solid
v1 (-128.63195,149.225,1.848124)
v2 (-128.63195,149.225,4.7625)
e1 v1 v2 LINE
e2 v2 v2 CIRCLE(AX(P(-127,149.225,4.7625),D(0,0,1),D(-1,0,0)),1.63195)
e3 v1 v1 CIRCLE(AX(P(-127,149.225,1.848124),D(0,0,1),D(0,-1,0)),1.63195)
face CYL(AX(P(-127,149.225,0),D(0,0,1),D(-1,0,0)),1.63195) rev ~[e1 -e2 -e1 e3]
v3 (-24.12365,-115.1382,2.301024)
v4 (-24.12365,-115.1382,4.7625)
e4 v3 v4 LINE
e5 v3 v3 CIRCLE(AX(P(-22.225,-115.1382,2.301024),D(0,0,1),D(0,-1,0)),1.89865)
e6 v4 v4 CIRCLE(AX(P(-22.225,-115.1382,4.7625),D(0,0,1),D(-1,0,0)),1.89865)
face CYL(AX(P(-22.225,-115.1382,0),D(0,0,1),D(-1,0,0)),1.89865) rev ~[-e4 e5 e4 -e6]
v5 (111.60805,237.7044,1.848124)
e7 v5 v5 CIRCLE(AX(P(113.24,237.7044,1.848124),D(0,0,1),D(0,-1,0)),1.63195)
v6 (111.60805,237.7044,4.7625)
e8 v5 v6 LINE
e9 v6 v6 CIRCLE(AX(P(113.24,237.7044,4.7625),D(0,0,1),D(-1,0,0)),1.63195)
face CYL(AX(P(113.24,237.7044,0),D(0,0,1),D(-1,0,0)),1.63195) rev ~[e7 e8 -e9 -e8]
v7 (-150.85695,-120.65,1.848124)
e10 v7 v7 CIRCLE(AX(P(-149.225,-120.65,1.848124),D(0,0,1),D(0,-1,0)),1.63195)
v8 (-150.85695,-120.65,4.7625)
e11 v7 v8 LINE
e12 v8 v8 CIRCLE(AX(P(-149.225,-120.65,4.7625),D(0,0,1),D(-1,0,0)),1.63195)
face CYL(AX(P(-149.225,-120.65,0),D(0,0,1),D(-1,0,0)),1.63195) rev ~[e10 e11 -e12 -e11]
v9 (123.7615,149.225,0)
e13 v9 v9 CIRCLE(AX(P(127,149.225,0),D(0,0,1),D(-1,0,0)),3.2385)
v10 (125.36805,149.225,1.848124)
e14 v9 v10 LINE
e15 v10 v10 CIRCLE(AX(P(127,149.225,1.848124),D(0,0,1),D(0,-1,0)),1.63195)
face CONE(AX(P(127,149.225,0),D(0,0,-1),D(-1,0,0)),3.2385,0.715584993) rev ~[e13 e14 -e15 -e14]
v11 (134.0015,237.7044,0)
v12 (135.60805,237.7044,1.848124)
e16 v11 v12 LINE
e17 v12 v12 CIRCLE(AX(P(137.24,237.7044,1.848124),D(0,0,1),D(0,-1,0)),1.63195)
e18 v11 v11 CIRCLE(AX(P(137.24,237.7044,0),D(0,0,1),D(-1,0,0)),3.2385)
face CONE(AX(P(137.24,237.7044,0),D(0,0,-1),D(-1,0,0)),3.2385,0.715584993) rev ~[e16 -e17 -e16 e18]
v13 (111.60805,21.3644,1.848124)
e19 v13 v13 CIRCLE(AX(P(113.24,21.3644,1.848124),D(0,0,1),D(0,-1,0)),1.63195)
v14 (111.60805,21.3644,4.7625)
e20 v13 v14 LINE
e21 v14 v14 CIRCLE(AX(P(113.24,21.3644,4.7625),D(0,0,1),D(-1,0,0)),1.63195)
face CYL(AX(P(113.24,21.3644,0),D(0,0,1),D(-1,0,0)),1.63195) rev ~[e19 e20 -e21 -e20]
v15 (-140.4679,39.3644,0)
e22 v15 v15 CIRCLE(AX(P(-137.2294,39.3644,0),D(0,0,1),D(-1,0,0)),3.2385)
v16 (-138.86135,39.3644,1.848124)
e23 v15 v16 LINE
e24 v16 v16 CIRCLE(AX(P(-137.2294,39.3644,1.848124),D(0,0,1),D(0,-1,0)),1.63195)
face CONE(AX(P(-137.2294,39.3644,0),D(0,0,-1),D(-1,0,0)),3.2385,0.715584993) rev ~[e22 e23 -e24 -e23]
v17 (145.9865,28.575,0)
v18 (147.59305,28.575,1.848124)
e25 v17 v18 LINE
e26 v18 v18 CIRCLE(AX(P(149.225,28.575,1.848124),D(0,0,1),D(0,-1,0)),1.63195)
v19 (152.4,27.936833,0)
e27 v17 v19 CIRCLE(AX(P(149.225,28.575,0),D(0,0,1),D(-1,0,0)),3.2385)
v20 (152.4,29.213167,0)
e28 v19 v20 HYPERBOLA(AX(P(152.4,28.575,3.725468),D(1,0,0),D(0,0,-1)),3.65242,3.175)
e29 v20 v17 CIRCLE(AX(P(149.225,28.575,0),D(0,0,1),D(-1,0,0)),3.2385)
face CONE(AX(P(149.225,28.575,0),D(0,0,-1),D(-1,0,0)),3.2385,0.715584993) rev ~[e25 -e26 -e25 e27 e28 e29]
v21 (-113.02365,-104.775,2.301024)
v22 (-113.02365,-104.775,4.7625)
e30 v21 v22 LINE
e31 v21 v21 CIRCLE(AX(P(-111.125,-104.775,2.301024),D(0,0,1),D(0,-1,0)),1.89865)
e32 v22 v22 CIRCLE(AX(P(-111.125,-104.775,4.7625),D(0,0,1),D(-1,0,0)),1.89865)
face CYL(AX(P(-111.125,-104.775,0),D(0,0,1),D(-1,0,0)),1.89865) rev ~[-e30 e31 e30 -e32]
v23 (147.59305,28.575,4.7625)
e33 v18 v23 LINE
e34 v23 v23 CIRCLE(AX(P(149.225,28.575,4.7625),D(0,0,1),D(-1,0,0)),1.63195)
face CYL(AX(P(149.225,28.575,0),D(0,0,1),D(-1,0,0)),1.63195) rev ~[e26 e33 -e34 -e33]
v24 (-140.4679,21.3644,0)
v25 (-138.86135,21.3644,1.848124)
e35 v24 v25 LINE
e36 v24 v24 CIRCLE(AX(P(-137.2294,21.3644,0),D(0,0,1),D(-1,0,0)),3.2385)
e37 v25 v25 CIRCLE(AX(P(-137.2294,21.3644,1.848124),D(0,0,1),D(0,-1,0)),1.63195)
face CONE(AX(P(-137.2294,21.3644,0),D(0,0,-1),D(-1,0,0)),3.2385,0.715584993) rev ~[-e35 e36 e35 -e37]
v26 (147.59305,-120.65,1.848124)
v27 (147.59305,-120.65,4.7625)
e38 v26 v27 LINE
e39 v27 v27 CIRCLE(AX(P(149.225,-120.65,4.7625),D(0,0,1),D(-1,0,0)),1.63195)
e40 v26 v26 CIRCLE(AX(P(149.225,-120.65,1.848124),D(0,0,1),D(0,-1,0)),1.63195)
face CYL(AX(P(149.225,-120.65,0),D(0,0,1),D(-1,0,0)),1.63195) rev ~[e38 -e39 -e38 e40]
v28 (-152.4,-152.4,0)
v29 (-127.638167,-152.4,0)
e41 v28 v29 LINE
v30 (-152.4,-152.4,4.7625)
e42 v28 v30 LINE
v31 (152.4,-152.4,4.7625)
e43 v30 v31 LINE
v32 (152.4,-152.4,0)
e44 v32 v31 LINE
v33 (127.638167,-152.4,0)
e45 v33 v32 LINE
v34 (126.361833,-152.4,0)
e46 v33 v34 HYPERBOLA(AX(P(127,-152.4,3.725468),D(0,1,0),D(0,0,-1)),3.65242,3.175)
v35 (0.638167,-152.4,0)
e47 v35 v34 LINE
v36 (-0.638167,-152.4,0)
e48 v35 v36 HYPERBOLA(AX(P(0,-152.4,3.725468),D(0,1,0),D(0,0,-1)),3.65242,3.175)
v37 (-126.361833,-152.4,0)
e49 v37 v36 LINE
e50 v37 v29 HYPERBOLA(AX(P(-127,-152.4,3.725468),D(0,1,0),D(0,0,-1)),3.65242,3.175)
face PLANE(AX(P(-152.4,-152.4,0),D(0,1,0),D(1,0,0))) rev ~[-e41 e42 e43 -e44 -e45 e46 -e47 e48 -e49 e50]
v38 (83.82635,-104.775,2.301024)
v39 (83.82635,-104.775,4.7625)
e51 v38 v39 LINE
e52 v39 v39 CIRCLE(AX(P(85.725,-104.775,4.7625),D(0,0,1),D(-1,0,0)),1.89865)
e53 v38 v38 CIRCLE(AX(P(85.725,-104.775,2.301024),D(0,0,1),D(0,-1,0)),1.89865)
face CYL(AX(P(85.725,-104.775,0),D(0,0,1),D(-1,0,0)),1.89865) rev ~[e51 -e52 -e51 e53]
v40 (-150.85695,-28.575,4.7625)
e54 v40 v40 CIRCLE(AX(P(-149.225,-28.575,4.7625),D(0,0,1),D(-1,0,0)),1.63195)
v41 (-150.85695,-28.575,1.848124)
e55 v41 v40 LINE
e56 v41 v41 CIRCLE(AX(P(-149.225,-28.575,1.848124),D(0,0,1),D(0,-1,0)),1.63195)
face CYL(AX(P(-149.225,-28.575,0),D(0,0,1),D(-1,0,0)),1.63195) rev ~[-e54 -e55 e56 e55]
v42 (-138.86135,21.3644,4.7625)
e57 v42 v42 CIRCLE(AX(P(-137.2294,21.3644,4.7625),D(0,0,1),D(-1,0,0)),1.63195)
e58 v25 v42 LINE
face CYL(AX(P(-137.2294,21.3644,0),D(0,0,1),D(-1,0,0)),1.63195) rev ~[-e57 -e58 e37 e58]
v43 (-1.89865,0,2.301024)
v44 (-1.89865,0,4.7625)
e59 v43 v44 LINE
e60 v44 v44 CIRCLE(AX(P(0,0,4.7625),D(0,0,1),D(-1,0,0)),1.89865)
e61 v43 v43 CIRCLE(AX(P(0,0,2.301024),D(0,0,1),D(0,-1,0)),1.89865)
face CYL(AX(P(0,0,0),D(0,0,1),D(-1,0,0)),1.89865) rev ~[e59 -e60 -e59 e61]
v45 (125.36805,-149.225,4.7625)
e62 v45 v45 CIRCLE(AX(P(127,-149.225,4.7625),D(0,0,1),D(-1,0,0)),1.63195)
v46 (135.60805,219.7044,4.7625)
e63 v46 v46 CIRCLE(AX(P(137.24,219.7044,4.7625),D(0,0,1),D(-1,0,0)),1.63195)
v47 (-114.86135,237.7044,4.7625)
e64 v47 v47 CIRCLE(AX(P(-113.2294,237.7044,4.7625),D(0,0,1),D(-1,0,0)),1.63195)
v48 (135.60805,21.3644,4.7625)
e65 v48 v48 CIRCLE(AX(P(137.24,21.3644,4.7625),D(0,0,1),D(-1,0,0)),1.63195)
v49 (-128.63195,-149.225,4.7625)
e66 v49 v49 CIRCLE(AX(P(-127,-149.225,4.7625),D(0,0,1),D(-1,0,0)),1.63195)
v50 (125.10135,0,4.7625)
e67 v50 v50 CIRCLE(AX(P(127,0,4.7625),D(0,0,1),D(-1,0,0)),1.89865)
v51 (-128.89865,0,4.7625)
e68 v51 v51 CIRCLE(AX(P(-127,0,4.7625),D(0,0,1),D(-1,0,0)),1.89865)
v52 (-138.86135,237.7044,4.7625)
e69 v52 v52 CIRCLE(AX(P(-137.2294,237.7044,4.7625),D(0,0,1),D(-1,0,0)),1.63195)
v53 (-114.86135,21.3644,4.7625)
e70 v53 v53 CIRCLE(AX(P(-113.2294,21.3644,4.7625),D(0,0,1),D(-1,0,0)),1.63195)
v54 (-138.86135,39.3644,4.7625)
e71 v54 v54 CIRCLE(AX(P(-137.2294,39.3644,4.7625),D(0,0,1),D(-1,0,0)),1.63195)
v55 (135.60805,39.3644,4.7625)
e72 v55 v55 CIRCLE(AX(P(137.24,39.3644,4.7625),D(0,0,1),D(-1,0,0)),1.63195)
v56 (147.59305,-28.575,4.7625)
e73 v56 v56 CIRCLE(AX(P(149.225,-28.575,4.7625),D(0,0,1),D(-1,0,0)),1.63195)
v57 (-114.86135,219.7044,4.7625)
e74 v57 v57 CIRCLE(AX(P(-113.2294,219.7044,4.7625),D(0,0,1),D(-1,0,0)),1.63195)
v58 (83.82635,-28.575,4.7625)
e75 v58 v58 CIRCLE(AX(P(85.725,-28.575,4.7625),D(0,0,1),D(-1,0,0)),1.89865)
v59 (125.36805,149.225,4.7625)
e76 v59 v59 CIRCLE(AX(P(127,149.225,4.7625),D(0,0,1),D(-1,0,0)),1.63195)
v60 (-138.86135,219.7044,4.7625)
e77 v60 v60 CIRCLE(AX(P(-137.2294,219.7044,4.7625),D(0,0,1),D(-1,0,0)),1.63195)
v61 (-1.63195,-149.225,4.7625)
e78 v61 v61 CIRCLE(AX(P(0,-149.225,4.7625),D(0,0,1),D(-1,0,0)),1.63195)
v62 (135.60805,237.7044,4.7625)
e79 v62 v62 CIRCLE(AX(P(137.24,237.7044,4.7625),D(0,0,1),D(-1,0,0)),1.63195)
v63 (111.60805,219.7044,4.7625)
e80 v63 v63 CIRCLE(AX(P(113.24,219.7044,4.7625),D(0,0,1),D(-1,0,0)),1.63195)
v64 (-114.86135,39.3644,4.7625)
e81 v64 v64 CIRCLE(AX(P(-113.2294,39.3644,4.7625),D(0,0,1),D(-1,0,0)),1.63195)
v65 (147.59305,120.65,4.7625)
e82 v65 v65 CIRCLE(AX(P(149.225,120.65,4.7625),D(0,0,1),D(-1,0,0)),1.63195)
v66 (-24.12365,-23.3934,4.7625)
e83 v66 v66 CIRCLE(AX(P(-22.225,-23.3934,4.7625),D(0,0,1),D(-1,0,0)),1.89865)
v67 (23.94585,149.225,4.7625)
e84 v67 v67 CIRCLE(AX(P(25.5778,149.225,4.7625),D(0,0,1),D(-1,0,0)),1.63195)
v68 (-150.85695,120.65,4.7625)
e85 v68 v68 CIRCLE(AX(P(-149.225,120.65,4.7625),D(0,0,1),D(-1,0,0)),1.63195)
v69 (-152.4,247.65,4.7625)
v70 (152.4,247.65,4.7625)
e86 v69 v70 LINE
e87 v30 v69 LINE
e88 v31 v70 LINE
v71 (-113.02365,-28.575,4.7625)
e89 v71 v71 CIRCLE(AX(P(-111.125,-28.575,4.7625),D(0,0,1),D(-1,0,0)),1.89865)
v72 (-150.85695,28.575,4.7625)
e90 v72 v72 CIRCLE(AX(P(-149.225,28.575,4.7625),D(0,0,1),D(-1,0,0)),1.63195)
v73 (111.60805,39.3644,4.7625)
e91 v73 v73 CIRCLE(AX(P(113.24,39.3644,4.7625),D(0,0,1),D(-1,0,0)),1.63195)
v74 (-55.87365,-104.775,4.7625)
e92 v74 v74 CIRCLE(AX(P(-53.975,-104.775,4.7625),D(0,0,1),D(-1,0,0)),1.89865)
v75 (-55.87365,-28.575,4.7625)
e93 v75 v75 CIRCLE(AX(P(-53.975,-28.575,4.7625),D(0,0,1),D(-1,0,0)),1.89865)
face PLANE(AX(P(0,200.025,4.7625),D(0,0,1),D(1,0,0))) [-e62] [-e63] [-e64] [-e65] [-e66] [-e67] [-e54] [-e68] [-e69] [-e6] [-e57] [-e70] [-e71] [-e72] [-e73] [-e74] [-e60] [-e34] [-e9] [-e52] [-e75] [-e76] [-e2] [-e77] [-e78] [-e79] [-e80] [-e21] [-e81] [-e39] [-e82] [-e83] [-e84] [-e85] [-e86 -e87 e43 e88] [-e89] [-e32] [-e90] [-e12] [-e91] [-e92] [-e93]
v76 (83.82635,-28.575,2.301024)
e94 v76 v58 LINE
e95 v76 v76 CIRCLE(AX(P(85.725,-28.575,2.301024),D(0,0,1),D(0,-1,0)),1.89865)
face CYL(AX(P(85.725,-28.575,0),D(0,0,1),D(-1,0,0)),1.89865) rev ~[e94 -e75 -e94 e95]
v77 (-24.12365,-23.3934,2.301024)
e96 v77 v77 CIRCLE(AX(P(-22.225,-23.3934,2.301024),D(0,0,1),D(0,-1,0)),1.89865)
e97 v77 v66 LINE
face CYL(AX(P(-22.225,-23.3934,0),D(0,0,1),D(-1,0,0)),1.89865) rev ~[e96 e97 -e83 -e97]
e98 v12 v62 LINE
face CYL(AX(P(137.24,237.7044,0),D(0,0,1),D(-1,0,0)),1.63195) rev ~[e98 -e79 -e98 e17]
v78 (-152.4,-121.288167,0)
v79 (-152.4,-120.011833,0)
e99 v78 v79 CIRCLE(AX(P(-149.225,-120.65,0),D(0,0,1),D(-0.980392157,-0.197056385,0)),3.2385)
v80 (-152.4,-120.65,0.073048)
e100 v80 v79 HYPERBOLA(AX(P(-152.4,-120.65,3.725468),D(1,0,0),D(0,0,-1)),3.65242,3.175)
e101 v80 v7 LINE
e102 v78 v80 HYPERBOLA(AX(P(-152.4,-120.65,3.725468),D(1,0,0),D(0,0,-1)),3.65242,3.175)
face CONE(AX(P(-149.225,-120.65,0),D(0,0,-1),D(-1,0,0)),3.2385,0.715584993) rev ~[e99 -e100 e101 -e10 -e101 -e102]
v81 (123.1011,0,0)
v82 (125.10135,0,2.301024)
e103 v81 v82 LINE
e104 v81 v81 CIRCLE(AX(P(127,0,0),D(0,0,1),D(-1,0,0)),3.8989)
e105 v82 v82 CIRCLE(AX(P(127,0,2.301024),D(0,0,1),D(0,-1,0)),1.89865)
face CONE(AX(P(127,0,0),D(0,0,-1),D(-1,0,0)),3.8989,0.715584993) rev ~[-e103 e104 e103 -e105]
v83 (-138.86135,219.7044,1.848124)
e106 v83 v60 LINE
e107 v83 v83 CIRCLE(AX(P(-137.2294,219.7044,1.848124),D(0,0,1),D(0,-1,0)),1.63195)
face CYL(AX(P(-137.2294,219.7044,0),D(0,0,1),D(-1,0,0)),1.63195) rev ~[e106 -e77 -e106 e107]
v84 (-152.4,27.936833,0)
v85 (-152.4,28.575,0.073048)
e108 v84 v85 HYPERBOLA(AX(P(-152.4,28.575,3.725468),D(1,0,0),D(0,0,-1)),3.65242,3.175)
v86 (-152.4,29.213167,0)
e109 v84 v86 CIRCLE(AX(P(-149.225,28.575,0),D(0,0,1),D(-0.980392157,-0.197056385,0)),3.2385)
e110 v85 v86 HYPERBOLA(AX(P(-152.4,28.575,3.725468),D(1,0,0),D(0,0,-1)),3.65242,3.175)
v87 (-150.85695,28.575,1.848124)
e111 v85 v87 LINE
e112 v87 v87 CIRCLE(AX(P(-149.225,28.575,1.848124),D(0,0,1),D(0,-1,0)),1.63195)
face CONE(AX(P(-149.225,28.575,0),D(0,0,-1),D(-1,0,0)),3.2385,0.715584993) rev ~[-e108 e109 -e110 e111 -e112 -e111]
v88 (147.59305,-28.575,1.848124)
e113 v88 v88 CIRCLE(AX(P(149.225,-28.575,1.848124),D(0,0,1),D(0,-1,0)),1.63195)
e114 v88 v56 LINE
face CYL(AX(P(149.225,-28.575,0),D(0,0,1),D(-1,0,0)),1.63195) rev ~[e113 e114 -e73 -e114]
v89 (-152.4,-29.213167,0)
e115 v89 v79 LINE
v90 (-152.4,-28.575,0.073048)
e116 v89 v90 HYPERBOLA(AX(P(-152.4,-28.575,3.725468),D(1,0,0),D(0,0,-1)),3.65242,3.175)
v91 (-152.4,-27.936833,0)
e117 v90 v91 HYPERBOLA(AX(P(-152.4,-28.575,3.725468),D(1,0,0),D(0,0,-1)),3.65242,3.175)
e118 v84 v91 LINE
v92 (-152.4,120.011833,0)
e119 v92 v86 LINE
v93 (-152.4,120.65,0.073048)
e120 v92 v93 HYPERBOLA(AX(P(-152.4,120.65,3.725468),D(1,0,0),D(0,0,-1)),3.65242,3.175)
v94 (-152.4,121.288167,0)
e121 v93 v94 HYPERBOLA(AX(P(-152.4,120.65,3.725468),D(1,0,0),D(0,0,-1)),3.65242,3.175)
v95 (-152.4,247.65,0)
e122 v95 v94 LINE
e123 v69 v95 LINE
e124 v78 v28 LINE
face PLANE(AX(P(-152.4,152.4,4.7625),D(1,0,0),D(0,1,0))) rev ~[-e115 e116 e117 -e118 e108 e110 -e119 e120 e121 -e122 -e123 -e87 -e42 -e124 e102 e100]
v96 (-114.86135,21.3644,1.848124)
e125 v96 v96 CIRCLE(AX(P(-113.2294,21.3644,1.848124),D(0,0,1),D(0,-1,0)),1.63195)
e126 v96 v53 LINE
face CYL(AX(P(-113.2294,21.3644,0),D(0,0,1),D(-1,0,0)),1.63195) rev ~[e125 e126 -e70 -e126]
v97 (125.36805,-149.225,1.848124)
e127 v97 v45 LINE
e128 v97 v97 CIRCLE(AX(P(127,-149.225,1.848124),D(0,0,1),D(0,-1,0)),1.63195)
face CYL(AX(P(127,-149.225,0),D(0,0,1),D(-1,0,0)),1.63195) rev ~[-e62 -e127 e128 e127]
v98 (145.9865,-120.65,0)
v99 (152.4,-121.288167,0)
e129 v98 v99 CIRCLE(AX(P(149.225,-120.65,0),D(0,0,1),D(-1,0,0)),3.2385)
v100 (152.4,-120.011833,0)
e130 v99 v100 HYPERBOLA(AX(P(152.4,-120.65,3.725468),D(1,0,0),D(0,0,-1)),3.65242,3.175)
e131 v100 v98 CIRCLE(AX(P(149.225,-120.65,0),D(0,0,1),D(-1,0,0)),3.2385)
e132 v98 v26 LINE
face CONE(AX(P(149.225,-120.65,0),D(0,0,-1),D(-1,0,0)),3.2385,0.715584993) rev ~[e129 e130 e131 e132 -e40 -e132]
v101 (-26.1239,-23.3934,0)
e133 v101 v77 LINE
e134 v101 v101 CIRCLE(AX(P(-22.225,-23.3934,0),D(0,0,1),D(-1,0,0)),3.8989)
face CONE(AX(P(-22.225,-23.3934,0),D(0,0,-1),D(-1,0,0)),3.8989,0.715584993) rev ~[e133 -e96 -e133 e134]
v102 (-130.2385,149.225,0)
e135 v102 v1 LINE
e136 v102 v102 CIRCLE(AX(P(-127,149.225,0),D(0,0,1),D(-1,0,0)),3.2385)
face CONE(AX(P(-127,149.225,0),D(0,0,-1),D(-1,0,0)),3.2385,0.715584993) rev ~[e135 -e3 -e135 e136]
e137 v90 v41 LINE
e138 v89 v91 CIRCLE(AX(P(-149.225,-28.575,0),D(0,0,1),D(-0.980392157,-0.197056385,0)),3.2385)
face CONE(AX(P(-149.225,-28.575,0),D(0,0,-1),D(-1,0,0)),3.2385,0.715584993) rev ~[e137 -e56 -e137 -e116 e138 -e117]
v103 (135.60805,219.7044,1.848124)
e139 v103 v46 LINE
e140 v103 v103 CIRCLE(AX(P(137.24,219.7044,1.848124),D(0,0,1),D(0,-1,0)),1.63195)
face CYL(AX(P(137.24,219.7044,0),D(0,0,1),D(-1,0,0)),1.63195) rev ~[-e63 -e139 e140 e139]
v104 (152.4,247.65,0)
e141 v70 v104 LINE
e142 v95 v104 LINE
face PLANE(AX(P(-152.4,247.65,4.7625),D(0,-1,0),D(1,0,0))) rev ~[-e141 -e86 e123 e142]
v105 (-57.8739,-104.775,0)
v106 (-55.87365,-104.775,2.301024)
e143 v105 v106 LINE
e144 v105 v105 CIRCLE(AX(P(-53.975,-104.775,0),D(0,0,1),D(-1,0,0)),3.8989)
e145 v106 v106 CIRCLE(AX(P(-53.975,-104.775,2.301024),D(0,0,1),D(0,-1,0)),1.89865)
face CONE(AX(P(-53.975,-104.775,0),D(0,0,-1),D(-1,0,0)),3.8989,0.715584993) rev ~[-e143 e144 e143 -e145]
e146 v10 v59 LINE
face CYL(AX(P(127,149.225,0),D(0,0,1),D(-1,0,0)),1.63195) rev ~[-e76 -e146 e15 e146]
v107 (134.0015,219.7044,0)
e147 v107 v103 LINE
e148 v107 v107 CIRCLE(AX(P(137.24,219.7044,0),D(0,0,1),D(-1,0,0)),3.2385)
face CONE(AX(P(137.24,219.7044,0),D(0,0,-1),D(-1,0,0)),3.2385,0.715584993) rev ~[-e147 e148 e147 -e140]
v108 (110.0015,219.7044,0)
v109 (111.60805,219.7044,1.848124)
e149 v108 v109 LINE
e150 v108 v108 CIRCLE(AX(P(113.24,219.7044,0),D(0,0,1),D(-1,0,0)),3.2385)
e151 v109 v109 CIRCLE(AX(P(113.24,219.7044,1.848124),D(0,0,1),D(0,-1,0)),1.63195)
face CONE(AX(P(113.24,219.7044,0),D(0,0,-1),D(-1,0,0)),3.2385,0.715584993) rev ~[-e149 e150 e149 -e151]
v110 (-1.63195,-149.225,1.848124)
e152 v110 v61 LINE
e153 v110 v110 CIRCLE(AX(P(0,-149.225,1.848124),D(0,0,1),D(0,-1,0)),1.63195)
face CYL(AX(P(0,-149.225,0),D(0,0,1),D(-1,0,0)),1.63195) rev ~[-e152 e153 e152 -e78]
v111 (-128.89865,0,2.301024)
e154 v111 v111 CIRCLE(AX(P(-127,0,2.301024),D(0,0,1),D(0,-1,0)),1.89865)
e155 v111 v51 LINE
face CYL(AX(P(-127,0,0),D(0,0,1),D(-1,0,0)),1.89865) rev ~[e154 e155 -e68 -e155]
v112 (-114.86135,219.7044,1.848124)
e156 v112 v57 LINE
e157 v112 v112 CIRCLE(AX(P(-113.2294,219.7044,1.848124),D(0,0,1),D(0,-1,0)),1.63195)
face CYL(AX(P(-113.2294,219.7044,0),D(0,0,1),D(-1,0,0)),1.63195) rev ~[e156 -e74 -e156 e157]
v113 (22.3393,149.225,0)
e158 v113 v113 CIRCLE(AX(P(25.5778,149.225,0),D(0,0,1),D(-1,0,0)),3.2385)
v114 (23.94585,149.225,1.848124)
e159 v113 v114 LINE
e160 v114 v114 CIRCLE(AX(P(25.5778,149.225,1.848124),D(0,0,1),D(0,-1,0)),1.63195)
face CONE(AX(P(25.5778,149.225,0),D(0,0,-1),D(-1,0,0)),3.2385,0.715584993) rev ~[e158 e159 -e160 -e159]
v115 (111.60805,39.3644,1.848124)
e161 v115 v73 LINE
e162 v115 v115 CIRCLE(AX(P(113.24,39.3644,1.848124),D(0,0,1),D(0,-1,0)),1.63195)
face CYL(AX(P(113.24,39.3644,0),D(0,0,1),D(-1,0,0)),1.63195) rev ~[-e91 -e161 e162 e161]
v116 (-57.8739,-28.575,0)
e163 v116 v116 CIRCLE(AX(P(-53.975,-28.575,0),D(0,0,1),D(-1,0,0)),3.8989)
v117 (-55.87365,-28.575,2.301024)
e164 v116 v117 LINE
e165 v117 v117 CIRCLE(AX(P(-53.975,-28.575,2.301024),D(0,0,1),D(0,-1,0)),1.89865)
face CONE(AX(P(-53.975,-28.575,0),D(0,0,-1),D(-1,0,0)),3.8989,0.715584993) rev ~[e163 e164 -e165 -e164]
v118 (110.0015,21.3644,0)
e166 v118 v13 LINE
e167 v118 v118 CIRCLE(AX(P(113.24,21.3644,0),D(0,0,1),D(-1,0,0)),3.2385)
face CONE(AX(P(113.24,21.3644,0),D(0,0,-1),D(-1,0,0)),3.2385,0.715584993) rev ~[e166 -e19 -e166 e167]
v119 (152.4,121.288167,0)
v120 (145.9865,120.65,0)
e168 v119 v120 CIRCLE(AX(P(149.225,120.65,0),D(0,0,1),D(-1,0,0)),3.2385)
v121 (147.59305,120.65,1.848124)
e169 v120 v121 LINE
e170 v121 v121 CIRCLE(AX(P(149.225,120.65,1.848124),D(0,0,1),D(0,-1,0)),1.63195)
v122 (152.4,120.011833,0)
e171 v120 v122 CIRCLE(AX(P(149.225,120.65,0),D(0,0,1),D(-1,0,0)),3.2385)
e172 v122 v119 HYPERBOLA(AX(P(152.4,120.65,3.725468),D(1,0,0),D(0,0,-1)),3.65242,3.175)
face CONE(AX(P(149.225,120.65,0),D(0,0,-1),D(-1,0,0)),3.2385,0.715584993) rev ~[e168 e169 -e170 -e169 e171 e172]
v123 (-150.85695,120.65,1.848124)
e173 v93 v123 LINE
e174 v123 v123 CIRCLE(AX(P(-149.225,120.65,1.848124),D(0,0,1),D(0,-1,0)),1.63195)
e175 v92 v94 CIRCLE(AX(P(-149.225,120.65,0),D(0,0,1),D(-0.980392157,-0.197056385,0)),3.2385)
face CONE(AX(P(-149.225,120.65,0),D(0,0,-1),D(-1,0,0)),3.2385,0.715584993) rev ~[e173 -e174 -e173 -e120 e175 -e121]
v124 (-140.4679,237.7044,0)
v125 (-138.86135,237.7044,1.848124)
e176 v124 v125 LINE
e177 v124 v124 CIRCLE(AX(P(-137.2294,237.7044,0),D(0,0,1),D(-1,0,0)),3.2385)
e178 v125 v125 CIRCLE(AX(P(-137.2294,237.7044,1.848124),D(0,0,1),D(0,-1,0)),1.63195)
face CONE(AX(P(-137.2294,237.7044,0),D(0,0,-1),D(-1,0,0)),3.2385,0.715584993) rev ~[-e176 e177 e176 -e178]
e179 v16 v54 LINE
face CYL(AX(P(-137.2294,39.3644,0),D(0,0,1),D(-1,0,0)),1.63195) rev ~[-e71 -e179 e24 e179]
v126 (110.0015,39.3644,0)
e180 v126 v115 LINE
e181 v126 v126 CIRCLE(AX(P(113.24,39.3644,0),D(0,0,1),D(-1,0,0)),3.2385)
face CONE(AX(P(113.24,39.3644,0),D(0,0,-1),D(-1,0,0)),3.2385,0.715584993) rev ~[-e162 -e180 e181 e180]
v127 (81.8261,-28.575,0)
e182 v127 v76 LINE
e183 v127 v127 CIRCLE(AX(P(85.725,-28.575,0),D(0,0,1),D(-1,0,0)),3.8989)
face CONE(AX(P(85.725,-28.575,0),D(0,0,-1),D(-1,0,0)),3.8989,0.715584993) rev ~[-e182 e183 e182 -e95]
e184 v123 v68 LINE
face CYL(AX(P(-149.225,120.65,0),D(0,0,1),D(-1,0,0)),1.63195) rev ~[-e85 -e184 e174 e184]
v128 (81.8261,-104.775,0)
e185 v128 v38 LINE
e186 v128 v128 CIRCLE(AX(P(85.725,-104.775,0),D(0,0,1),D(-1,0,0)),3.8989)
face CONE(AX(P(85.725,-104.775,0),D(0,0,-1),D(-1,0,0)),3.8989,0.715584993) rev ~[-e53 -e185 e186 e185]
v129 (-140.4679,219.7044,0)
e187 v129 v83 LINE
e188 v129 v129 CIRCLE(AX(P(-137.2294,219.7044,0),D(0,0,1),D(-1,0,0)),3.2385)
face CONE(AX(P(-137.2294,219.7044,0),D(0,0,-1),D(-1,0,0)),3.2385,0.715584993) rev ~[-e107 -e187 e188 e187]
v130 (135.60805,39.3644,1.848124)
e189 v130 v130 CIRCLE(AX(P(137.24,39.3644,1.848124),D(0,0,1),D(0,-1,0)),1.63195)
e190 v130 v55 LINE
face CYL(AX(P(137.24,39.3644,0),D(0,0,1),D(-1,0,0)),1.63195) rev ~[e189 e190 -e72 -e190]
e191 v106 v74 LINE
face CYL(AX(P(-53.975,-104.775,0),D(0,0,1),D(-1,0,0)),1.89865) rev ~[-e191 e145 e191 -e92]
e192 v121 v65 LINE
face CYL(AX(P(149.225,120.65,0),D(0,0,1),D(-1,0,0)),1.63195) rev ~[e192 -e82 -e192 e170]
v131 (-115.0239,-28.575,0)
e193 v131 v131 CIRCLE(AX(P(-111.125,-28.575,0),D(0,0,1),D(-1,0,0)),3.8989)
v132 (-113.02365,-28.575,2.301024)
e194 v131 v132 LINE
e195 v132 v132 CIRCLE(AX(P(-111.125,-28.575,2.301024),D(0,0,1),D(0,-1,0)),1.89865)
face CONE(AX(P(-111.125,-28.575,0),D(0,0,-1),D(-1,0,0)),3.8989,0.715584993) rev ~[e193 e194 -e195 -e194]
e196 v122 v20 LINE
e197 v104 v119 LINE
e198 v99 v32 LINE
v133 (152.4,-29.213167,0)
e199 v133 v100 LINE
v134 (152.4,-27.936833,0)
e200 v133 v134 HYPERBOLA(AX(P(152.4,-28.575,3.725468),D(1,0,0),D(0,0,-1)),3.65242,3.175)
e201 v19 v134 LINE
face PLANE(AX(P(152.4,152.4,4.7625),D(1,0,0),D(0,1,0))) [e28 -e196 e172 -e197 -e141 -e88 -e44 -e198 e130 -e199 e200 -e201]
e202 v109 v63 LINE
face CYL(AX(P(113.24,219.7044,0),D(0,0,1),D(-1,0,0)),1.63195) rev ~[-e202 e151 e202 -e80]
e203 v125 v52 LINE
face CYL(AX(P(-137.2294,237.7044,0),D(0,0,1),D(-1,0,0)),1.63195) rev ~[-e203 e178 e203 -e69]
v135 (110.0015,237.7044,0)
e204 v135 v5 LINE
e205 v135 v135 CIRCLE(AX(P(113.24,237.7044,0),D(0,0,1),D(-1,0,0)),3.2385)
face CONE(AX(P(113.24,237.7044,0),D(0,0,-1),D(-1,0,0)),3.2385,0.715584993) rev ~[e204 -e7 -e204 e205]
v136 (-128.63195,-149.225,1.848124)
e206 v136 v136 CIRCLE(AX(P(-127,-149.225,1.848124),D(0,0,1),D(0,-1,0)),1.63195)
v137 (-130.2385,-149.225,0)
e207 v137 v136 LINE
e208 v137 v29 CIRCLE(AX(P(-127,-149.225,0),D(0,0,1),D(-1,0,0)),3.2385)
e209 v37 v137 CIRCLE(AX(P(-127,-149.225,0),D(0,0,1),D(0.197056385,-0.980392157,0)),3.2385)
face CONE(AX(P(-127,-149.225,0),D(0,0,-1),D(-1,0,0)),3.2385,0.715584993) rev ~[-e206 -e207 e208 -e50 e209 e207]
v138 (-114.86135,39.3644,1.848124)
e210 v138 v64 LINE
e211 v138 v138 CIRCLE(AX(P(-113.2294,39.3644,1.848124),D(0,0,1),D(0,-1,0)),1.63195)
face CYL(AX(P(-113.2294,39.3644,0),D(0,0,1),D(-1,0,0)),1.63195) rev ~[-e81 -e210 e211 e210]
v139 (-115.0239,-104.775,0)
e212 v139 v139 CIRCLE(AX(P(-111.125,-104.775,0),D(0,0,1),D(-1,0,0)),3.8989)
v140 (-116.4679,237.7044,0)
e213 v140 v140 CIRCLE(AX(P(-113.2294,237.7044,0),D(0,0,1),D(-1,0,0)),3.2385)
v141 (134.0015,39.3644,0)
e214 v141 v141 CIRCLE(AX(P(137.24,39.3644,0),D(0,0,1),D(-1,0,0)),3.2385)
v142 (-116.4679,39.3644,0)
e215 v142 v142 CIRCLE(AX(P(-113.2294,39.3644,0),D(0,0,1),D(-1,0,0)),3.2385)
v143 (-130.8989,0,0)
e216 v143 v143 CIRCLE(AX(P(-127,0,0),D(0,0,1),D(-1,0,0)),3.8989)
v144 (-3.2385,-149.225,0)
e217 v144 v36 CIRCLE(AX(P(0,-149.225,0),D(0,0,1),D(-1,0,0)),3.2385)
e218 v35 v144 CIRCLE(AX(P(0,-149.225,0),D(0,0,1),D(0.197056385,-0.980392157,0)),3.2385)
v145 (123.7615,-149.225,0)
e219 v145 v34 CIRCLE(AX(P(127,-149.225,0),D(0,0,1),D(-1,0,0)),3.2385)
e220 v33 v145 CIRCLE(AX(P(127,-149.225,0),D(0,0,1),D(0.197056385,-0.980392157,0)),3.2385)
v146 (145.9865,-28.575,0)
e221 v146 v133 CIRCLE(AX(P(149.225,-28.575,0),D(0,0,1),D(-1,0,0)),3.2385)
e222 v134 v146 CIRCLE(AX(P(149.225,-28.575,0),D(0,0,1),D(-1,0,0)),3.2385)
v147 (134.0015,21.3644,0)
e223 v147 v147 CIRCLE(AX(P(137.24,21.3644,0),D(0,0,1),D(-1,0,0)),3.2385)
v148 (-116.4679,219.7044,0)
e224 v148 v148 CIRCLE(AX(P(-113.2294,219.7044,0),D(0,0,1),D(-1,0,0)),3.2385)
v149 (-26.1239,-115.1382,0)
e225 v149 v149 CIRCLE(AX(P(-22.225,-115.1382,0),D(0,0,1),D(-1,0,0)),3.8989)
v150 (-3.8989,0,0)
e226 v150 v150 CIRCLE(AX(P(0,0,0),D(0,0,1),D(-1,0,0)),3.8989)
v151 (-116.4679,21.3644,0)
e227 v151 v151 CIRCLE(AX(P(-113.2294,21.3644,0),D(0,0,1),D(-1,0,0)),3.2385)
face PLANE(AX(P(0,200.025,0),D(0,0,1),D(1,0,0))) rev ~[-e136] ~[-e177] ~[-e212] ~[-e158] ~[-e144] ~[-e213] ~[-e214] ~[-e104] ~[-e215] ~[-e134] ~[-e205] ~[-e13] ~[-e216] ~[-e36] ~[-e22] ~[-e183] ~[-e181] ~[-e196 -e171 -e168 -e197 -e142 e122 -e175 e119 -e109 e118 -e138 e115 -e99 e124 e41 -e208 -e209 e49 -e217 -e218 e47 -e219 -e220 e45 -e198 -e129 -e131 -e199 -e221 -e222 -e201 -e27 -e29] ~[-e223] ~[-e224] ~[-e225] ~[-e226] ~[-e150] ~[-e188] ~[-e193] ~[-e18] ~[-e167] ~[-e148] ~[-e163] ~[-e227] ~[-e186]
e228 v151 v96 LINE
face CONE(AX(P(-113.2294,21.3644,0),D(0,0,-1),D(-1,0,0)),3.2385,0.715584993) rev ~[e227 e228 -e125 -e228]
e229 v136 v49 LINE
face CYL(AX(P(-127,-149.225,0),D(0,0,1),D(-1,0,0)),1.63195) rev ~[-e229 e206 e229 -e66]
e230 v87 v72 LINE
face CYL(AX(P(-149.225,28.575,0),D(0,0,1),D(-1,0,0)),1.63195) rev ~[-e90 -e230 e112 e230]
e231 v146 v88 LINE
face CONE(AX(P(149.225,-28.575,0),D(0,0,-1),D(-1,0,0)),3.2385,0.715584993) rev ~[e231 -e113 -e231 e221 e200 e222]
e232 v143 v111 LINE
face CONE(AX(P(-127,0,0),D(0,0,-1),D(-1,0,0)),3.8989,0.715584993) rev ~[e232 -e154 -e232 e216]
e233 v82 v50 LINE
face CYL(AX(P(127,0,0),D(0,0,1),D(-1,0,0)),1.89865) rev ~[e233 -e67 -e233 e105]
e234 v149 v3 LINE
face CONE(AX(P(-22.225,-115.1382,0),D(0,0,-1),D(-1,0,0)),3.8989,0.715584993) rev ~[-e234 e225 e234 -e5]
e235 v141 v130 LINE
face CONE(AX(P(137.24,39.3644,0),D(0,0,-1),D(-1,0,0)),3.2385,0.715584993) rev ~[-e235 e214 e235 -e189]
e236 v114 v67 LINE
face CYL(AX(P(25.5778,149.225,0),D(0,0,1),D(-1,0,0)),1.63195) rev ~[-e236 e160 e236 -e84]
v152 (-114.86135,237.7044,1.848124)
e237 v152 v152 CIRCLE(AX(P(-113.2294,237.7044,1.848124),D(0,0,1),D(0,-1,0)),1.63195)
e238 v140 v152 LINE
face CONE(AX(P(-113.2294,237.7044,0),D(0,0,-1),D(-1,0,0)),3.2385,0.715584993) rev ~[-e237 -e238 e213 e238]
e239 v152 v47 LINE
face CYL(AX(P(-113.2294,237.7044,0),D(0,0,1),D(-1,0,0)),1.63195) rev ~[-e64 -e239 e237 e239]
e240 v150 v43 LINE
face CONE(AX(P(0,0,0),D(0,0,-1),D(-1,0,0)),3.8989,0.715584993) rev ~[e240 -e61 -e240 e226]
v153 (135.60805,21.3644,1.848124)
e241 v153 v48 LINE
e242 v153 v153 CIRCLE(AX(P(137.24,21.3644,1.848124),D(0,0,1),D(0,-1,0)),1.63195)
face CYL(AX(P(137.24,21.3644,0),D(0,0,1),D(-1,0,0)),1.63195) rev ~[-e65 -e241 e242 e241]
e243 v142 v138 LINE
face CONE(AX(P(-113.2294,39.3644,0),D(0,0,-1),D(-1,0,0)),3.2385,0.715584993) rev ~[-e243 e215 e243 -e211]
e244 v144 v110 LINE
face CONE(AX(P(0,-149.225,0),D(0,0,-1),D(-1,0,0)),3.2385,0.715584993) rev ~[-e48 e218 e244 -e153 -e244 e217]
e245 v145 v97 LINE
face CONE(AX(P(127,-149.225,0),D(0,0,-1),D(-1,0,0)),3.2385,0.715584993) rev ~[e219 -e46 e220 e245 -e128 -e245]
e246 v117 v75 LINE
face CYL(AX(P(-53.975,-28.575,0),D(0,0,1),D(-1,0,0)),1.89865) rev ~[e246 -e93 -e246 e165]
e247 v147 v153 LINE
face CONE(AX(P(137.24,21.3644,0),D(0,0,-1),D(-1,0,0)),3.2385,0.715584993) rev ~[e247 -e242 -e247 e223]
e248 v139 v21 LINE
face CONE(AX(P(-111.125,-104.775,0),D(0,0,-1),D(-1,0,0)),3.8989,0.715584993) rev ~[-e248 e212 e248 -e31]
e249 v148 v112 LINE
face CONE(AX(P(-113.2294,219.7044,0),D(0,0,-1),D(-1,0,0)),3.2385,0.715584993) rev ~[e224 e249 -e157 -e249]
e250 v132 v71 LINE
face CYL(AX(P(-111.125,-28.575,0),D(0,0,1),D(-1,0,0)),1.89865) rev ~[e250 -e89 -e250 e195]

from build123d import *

# Parameters (mm, degrees)
F0_W            = 304.8
F0_H            = 304.8
F1_DEPTH        = 4.7625
F3_D            = 3.7973
F3_CSINK_D      = 7.7978
F3_CSINK_ANGLE  = 82
F4_W            = 304.8
F4_H            = 95.25
F5_DEPTH        = 4.7625
F7_D            = 3.2639
F7_DEPTH        = 13.7414
F7_CSINK_D      = 6.477
F7_CSINK_ANGLE  = 82
F7_TIP          = 0.9805744872
F9_D            = 3.2639
F9_DEPTH        = 13.7414
F9_CSINK_D      = 6.477
F9_CSINK_ANGLE  = 82
F9_TIP          = 0.9805744872
F11_D           = 3.7973
F11_CSINK_D     = 7.7978
F11_CSINK_ANGLE = 82


with BuildPart() as f1:
    # F0 (on Top) → F1 (new body)
    with BuildSketch(Plane.XY):
        Rectangle(F0_W, F0_H)
    extrude(amount=F1_DEPTH)

    # F3 (through all)
    with Locations(Plane(origin=(0, 0, 0), x_dir=(1, 0, 0), z_dir=(0, 0, -1))):
        with Locations((-127, 0), (0, 0), (127, 0)):
            CounterSinkHole(F3_D / 2, F3_CSINK_D / 2, counter_sink_angle=F3_CSINK_ANGLE)

    # F4 (on face) → F5 (join)
    with BuildSketch(Plane.XY.offset(4.7625)):
        with Locations((0, 200.025)):
            Rectangle(F4_W, F4_H)
    extrude(amount=-F5_DEPTH)

    # F7
    with Locations(Plane(origin=(0, 0, 0), x_dir=(1, 0, 0), z_dir=(0, 0, -1))):
        with Locations((127, 149.225), (0, 149.225), (-127, 149.225), (-127, -149.225), (25.5778, -149.225), (127, -149.225), (149.225, -120.65), (149.225, 28.575), (149.225, 120.65), (-149.225, 120.65), (-149.225, 28.575), (-149.225, -28.575), (-149.225, -120.65), (149.225, -28.575)):
            CounterSinkHole(F7_D / 2, F7_CSINK_D / 2, depth=F7_DEPTH, counter_sink_angle=F7_CSINK_ANGLE)
            with Locations((0, 0, -(F7_DEPTH + F7_TIP / 2))):  # 118° drill point
                Cone(0, F7_D / 2, F7_TIP, mode=Mode.SUBTRACT)

    # F9
    with Locations(Plane(origin=(0, 0, 0), x_dir=(1, 0, 0), z_dir=(0, 0, -1))):
        with Locations((-137.2294, -21.3644000014), (-137.2294, -39.3644000014), (-113.2294, -39.3644000014), (-113.2294, -21.3644000014), (-113.2294, -219.7044000014), (-113.2294, -237.7044000014), (-137.2294, -237.7044000014), (-137.2294, -219.7044000014), (113.24, -237.7044000014), (113.24, -219.7044000014), (137.24, -219.7044000014), (137.24, -237.7044000014), (137.24, -21.3644000014), (113.24, -21.3644000014), (113.24, -39.3644000014), (137.24, -39.3644000014)):
            CounterSinkHole(F9_D / 2, F9_CSINK_D / 2, depth=F9_DEPTH, counter_sink_angle=F9_CSINK_ANGLE)
            with Locations((0, 0, -(F9_DEPTH + F9_TIP / 2))):  # 118° drill point
                Cone(0, F9_D / 2, F9_TIP, mode=Mode.SUBTRACT)

    # F11 (through all)
    with Locations(Plane(origin=(0, 0, 0), x_dir=(1, 0, 0), z_dir=(0, 0, -1))):
        with Locations((-111.125, 104.775), (-111.125, 28.575), (-53.975, 28.575), (-53.975, 104.775), (-22.225, 115.1382), (-22.225, 23.3934), (85.725, 28.575), (85.725, 104.775)):
            CounterSinkHole(F11_D / 2, F11_CSINK_D / 2, counter_sink_angle=F11_CSINK_ANGLE)


solid = f1.part
